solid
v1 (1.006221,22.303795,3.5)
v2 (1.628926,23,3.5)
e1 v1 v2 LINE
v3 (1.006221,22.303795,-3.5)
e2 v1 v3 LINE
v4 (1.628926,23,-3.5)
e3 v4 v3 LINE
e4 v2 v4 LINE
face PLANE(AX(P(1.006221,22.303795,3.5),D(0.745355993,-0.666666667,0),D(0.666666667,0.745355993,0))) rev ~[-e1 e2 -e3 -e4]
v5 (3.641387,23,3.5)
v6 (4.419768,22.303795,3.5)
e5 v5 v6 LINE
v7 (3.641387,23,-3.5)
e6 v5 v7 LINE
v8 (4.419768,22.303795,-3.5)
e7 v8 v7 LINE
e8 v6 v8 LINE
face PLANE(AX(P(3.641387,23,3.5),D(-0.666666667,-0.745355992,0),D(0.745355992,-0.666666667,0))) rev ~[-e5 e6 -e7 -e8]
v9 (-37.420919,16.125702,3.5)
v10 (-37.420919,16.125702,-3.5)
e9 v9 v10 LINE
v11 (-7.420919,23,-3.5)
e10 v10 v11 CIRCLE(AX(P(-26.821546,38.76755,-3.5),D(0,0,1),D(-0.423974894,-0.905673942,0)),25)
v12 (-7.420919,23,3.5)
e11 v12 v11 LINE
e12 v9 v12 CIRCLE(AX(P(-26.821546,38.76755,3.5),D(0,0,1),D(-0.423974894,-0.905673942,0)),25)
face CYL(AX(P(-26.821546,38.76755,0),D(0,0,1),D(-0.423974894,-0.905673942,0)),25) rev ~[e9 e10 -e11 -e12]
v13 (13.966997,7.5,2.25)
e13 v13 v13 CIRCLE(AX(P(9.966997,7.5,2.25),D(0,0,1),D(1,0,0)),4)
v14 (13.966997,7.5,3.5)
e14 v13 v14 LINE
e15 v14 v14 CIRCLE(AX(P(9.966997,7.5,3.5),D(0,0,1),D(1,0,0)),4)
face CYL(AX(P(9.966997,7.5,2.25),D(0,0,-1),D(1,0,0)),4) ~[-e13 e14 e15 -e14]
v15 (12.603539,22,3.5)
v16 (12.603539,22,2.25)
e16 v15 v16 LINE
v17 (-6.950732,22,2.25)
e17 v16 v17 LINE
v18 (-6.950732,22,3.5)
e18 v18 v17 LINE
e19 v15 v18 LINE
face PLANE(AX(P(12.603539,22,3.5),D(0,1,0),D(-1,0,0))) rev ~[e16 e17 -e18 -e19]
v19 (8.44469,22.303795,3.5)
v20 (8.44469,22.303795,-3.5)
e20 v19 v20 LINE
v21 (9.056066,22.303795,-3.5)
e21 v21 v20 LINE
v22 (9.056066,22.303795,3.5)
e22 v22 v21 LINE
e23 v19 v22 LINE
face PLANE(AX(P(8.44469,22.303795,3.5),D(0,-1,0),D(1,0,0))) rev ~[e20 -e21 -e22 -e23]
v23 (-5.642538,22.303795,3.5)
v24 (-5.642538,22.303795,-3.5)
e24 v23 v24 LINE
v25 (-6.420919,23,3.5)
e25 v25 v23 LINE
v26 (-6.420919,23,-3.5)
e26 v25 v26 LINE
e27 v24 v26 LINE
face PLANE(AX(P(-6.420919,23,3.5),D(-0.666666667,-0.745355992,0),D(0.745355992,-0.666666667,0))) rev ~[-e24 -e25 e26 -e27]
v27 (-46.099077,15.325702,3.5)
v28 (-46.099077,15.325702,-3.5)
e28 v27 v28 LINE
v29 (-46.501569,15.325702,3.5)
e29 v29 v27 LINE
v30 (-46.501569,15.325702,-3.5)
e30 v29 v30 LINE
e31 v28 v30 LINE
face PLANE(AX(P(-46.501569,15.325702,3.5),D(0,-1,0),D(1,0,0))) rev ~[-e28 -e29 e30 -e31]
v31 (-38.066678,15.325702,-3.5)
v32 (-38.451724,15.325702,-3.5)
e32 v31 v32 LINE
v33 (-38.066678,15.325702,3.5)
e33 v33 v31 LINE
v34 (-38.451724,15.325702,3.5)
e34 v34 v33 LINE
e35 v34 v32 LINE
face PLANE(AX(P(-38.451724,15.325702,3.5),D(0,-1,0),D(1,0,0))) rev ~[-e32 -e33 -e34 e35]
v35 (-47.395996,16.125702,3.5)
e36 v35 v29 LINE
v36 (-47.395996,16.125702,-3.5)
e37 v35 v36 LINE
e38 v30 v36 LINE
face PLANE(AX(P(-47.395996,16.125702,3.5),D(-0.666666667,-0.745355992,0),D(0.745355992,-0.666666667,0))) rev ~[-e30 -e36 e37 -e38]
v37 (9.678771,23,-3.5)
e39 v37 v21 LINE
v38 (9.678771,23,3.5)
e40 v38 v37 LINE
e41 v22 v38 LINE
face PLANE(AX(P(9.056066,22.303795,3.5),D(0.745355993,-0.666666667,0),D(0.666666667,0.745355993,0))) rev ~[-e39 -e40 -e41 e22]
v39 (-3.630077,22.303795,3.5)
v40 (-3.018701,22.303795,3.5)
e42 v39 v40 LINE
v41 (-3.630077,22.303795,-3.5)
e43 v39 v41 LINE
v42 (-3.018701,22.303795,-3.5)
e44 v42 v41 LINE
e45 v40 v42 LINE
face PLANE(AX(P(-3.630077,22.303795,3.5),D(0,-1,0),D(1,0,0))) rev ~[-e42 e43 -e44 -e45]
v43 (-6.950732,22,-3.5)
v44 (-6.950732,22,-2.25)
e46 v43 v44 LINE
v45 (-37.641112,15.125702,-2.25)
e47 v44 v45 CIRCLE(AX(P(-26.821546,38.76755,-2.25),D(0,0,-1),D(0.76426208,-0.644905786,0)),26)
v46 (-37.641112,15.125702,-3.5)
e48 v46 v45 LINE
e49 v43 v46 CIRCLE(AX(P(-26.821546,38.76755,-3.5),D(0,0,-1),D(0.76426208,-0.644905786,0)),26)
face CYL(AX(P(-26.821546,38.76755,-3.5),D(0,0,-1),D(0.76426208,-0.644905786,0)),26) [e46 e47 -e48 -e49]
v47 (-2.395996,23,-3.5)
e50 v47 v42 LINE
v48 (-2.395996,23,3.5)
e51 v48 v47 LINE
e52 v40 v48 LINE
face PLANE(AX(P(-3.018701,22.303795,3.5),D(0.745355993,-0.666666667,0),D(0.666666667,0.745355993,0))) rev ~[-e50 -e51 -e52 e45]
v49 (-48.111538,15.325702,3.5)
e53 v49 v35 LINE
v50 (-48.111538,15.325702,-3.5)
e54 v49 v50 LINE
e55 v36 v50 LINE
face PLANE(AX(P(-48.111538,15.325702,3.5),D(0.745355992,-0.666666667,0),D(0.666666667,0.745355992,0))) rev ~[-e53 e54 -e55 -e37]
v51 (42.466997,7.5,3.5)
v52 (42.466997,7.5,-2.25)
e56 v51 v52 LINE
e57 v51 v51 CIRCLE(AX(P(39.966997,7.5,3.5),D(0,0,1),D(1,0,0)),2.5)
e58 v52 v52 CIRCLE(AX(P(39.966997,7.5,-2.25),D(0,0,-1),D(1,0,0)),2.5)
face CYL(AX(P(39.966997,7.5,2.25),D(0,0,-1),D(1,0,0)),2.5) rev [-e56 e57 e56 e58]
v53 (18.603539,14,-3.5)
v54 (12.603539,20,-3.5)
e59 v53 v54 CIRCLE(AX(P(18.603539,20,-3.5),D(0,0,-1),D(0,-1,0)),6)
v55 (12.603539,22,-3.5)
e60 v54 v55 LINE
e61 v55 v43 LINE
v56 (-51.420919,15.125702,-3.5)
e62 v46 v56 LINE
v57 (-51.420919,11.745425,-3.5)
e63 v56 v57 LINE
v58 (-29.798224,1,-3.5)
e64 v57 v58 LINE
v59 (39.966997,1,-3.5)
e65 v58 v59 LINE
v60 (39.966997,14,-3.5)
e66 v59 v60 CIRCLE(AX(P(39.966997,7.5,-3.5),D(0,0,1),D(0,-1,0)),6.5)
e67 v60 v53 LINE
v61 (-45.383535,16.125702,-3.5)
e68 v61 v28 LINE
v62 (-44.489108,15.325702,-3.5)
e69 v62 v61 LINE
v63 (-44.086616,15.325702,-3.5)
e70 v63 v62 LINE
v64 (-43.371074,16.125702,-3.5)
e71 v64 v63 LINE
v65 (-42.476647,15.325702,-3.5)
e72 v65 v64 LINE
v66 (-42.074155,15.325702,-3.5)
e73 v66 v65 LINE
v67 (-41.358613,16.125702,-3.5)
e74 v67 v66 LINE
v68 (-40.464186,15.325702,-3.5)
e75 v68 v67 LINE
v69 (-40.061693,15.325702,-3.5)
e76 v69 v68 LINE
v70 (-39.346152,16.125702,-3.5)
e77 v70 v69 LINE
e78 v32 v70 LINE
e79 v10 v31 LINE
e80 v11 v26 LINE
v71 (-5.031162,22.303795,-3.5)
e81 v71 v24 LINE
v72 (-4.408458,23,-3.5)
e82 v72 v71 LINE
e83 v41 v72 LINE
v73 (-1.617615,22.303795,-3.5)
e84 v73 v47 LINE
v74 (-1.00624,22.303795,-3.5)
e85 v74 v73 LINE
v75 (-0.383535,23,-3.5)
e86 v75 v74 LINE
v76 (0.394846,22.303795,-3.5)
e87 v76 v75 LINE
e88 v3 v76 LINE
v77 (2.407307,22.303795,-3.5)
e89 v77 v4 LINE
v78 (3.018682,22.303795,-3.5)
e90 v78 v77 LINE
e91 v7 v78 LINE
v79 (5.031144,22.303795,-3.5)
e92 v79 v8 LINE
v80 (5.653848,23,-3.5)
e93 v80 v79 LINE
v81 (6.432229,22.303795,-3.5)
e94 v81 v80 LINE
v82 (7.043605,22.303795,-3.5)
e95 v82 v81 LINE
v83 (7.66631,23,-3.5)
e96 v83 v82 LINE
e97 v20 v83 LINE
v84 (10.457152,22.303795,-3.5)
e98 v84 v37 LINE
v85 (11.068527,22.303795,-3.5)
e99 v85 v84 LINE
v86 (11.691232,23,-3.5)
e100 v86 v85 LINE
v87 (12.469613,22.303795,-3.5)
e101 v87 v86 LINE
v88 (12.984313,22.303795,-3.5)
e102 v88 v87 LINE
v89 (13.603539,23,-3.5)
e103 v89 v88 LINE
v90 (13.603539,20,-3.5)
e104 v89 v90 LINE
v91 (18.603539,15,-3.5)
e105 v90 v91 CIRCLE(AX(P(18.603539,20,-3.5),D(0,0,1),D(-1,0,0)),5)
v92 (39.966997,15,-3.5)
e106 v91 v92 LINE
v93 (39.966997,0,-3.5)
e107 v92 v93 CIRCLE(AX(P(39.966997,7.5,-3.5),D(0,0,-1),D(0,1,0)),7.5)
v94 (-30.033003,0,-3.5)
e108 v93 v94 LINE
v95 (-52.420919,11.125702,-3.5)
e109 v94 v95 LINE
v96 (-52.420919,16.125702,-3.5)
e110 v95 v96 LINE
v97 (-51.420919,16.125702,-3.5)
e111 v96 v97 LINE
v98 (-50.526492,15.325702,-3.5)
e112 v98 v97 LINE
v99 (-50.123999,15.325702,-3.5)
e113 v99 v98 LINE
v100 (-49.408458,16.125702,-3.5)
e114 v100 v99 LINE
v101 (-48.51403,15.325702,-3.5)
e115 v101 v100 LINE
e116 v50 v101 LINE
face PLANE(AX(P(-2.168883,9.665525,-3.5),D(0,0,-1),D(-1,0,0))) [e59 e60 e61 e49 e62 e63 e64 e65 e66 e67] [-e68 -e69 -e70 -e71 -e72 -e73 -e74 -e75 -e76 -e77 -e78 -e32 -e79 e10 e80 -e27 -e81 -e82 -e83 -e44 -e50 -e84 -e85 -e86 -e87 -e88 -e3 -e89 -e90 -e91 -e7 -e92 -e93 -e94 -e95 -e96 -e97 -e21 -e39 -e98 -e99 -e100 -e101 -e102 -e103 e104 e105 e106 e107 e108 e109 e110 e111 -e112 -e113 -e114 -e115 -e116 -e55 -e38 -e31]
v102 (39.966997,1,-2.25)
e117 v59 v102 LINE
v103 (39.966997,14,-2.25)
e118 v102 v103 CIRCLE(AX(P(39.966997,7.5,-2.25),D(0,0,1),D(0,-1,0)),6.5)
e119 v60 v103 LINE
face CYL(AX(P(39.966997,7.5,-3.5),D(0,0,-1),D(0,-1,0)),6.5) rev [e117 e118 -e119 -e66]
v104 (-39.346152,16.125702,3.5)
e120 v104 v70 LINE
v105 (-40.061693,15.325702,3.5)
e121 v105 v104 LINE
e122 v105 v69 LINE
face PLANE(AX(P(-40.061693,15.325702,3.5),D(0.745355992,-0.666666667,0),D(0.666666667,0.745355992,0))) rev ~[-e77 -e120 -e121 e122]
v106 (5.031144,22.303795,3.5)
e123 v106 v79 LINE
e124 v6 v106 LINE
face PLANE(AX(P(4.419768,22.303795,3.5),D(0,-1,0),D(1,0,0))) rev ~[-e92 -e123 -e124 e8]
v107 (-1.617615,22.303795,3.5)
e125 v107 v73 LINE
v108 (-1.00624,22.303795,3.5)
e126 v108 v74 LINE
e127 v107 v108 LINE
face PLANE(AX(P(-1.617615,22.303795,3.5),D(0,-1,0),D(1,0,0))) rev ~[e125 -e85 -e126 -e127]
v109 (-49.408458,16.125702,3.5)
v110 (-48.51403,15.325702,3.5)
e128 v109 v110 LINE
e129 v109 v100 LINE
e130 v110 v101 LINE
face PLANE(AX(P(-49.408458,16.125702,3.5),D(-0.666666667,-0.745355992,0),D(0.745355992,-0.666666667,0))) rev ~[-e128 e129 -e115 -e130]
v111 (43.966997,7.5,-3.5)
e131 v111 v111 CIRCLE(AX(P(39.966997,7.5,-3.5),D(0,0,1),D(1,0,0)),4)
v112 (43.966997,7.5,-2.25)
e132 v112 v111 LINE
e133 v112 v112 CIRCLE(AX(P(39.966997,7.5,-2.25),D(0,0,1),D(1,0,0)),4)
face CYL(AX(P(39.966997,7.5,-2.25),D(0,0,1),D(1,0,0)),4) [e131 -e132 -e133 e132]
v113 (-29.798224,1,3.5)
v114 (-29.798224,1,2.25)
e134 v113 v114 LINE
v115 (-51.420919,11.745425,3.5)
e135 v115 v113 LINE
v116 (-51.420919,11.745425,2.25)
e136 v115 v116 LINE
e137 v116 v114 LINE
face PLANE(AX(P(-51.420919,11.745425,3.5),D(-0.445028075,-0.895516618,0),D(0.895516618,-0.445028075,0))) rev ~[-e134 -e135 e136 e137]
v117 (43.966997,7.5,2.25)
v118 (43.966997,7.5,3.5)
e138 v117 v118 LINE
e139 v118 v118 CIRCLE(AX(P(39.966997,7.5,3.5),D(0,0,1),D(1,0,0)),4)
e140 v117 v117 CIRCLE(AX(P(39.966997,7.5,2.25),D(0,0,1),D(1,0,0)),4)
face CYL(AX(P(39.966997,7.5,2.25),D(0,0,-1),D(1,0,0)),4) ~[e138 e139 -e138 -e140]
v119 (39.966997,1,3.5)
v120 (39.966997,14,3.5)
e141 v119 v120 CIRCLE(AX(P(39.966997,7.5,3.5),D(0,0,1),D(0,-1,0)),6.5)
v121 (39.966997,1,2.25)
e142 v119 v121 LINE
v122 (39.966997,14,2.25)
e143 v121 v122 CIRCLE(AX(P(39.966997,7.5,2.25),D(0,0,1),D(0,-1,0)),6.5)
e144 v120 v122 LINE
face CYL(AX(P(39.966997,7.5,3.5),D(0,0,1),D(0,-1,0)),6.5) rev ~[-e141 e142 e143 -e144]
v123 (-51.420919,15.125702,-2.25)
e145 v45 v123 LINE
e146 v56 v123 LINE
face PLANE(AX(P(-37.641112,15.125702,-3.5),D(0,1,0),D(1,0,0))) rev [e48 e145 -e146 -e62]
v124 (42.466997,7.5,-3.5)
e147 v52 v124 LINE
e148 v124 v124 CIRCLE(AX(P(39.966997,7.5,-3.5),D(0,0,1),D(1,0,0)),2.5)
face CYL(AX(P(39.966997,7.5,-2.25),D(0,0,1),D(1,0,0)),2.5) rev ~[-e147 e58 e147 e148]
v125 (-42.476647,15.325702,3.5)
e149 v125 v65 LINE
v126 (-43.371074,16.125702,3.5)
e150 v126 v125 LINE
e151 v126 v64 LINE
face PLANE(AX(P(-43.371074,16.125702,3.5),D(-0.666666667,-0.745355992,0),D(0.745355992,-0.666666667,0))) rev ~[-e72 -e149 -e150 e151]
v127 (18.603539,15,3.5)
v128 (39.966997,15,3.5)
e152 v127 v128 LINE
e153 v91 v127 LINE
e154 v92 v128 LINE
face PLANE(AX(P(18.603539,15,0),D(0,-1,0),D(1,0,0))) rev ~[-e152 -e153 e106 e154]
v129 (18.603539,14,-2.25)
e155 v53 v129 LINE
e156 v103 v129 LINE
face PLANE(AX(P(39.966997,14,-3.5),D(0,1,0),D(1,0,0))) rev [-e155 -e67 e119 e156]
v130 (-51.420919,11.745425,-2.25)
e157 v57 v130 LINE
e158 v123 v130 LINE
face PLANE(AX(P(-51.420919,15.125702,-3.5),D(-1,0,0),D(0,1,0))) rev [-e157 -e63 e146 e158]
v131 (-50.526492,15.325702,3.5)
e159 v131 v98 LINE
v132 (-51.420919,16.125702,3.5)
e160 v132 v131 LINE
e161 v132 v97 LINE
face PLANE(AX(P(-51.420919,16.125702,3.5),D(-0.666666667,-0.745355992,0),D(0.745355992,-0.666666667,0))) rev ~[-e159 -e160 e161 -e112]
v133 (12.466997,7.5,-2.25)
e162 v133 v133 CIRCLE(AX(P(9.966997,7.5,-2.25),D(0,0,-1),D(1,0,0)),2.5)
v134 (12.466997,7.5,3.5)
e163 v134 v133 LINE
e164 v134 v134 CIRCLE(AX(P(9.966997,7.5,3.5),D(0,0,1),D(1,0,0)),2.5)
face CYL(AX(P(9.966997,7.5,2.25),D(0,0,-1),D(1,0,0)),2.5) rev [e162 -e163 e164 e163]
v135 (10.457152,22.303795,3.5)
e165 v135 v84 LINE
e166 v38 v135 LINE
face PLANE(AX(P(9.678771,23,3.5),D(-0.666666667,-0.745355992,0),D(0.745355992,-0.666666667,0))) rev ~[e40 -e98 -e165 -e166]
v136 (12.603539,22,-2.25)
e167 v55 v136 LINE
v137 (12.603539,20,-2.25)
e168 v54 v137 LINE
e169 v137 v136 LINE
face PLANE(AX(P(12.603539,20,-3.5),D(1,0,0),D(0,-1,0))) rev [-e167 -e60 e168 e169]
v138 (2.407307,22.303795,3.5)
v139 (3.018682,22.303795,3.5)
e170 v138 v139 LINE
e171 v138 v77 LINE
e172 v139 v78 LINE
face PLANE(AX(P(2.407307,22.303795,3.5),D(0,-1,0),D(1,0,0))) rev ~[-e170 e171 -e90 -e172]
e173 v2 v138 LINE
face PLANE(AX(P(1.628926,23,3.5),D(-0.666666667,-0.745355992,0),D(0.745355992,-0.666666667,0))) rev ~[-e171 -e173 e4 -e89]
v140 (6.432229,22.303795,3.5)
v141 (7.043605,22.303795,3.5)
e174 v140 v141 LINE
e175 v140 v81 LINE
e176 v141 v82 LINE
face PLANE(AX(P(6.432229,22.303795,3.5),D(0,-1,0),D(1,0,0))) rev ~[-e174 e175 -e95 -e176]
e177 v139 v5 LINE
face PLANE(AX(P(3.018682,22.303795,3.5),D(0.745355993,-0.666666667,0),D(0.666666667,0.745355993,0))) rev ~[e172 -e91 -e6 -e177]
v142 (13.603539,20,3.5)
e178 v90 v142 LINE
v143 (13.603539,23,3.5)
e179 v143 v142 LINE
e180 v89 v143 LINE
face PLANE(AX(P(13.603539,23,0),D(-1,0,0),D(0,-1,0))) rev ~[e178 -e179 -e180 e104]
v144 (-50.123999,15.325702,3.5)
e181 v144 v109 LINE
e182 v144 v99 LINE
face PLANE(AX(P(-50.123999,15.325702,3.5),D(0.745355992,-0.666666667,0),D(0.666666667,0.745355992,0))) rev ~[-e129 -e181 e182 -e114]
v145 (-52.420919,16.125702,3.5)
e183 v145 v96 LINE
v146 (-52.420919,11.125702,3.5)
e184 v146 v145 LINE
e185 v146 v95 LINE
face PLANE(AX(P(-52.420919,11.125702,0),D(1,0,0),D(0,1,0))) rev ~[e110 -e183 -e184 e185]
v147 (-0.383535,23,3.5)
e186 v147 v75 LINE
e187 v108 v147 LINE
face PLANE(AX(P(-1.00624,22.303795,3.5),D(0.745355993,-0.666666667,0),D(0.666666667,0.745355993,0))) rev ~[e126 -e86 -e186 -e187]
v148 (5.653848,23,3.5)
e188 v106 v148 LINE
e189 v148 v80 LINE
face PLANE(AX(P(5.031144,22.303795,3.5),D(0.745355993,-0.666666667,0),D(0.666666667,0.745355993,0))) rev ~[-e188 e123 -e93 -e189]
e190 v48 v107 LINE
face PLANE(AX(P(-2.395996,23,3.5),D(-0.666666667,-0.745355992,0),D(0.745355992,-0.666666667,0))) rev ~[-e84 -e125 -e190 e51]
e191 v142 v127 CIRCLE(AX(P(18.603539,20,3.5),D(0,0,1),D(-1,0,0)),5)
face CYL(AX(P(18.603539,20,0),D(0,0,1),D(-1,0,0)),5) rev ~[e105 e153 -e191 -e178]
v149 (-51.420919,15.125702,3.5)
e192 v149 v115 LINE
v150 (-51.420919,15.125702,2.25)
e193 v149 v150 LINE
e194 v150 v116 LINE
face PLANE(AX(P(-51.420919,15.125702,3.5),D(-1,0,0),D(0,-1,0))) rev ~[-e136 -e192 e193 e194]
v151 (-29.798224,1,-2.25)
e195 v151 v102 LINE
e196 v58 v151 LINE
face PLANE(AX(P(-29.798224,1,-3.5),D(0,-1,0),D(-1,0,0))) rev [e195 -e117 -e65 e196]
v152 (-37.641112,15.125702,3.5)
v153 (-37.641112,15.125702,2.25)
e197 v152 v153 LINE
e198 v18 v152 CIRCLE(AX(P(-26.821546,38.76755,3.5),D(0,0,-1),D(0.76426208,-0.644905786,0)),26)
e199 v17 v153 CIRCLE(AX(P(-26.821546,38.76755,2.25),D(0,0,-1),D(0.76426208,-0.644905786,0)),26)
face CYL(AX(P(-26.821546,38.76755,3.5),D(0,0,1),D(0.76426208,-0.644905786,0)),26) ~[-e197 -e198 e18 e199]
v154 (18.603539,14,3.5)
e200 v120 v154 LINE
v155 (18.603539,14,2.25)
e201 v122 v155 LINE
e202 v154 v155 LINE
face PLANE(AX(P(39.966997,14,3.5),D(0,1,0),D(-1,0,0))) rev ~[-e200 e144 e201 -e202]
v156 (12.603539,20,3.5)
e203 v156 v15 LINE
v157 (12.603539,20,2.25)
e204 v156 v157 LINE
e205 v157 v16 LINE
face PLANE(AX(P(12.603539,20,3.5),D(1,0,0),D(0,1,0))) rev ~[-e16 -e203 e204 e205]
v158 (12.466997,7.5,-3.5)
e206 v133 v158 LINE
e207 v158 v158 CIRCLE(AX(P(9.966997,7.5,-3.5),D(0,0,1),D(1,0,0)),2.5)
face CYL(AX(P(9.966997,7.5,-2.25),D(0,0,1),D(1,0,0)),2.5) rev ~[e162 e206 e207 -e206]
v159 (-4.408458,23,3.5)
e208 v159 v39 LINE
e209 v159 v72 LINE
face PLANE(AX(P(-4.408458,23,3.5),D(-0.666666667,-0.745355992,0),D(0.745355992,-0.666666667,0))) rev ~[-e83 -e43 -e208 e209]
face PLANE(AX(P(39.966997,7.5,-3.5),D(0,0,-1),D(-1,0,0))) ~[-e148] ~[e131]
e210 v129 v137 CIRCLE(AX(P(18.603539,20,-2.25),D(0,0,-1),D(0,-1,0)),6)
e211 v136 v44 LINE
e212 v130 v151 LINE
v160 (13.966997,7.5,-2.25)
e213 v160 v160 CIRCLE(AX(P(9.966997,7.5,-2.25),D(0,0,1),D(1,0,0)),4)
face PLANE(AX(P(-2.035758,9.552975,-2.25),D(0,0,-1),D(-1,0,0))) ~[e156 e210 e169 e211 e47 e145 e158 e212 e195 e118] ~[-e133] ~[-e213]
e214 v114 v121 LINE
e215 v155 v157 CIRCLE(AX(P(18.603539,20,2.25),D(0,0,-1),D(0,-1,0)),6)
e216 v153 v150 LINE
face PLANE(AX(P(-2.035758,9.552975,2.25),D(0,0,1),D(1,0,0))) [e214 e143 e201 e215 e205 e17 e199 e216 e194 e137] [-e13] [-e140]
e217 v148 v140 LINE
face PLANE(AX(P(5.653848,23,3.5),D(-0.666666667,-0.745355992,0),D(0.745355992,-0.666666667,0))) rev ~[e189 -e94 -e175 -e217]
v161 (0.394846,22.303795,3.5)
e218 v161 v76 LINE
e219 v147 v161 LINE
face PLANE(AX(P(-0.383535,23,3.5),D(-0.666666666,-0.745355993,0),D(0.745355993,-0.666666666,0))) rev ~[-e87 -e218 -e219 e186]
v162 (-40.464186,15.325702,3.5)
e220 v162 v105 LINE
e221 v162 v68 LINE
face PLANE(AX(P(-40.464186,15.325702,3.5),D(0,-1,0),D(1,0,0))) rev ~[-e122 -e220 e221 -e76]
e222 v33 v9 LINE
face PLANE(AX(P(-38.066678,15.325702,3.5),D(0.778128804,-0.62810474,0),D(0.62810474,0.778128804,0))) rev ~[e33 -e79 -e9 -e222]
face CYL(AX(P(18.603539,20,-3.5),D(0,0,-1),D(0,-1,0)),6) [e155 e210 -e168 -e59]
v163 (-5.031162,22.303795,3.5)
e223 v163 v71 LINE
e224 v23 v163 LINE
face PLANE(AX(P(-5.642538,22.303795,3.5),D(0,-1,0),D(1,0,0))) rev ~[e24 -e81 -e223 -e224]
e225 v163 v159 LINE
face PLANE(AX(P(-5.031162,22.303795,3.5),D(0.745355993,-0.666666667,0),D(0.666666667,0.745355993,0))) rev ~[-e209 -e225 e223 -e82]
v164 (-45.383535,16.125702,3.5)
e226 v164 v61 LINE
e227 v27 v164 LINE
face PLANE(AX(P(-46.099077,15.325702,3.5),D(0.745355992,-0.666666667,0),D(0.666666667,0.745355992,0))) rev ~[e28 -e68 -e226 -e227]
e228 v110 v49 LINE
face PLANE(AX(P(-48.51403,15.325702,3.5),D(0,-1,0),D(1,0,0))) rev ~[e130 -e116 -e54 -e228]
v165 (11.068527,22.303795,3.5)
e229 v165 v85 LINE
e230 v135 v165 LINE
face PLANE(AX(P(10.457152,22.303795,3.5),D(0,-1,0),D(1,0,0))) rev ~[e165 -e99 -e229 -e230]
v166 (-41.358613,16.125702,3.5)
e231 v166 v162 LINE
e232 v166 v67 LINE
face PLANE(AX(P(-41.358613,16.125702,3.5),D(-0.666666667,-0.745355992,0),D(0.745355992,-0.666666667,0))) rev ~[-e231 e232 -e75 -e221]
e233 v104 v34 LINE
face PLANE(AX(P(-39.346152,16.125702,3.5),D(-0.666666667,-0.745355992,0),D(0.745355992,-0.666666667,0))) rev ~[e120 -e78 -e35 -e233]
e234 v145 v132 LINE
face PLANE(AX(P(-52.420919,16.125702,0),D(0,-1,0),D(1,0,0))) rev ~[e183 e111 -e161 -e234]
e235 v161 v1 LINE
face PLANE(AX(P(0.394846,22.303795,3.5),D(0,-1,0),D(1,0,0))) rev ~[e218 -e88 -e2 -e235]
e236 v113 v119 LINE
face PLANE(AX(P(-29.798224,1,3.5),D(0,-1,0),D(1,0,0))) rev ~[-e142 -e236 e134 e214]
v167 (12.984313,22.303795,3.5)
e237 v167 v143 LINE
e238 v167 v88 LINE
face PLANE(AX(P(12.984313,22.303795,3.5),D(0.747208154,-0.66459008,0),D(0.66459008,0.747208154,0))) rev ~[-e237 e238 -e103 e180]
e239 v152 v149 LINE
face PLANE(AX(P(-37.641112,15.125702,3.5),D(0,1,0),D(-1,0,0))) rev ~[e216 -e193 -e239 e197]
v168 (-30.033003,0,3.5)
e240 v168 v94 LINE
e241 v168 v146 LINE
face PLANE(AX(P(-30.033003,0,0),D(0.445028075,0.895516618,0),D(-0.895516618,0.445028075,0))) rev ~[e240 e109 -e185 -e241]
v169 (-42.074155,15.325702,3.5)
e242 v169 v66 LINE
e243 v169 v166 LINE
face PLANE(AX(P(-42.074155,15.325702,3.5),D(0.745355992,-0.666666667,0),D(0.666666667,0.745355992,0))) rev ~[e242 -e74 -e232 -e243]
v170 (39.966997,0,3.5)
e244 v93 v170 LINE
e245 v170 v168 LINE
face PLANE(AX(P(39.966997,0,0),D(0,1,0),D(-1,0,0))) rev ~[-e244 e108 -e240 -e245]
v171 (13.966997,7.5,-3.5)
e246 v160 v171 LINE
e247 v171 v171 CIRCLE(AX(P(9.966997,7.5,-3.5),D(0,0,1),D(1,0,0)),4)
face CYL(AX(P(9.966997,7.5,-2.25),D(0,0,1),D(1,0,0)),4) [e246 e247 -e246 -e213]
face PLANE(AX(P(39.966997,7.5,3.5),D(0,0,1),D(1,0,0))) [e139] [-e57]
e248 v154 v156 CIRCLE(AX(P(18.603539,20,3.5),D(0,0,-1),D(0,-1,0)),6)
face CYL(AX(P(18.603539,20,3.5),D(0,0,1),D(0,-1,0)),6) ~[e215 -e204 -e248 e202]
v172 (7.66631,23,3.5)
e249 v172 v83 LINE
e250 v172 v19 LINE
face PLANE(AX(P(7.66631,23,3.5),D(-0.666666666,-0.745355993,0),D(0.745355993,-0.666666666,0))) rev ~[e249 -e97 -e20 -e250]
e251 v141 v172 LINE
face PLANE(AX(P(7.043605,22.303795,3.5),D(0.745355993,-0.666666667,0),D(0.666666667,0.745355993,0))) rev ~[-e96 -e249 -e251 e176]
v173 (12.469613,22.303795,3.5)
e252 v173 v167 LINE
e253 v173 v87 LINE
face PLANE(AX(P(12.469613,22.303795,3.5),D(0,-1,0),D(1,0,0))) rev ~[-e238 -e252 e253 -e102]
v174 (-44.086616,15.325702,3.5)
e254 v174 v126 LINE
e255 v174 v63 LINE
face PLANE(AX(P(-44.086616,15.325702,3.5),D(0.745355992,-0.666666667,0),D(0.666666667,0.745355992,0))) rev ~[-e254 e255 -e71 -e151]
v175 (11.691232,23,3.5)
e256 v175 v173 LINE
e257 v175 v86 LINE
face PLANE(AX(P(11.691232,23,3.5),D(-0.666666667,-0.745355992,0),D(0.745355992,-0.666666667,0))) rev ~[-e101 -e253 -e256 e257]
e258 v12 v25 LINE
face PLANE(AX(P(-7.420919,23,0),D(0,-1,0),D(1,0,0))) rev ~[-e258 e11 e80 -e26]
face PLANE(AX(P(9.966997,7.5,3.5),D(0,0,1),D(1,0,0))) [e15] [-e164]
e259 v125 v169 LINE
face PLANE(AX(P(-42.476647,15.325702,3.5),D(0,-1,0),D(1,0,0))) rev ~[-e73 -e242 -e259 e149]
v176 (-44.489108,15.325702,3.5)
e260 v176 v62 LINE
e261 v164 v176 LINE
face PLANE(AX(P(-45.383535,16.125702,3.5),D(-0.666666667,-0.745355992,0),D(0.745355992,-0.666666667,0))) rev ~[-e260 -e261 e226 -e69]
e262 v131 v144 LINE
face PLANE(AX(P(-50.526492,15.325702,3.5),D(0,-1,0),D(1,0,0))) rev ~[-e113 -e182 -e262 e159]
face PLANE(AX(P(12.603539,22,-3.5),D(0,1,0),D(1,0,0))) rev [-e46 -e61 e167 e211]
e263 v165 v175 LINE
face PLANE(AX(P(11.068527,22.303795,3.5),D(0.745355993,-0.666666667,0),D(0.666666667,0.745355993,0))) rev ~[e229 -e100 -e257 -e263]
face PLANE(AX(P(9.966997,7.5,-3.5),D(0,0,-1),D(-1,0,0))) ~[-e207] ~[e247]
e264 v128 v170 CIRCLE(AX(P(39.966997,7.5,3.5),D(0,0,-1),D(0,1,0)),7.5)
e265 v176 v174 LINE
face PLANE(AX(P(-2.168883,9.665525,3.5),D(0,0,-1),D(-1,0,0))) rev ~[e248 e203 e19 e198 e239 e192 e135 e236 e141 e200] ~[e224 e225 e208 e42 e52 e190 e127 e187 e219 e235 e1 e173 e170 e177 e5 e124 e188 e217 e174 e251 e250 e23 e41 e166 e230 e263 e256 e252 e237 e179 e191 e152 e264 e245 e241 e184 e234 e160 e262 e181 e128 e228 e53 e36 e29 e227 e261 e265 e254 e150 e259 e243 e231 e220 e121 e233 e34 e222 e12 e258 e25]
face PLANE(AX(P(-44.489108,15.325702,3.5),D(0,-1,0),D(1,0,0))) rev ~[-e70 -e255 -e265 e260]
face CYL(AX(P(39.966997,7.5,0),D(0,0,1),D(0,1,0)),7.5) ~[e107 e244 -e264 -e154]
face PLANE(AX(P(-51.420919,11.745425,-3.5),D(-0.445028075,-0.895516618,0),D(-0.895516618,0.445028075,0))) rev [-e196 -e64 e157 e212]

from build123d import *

# Parameters (mm, degrees)
SKETCH1_R           = 2.5
BOSS_EXTRUDE1_DEPTH = 3.5
CUT_EXTRUDE1_DEPTH  = 1.25
SKETCH3_R           = 4
SKETCH3_R_2         = 2.5
BOSS_EXTRUDE4_DEPTH = 1.25
CUT_EXTRUDE2_DEPTH  = 58.671073524
CUT_EXTRUDE3_DEPTH  = 58.671073524


with BuildPart() as part:
    # Sketch1 → Boss-Extrude1 (new, symmetric)
    with BuildSketch(Plane.XY):
        with BuildLine():
            Line((39.9669967, 0), (-30.0330033, 0))
            Line((-30.0330033, 0), (-52.420918739, 11.12570188))
            Line((-52.420918739, 11.12570188), (-52.420918739, 16.12570188))
            Line((-52.420918739, 16.12570188), (-37.420918739, 16.12570188))
            ThreePointArc((-37.420918739, 16.12570188), (-21.237684162, 14.399118341), (-7.420918739, 23))
            Line((-7.420918739, 23), (13.603539052, 23))
            Line((13.603539052, 23), (13.603539052, 20))
            ThreePointArc((13.603539052, 20), (15.068005146, 16.464466094), (18.603539052, 15))
            Line((18.603539052, 15), (39.9669967, 15))
            ThreePointArc((39.9669967, 15), (47.4669967, 7.5), (39.9669967, 0))
        make_face()
        with Locations((39.9669967, 7.5)):
            Circle(SKETCH1_R, mode=Mode.SUBTRACT)
        with Locations((9.9669967, 7.5)):
            Circle(SKETCH1_R, mode=Mode.SUBTRACT)
    extrude(amount=BOSS_EXTRUDE1_DEPTH, both=True)

    # Sketch2 → Cut-Extrude1 (cut)
    with BuildSketch(Plane.XY.offset(3.5)):
        with BuildLine():
            Line((39.9669967, 14), (18.603539052, 14))
            ThreePointArc((18.603539052, 14), (14.360898365, 15.757359313), (12.603539052, 20))
            Line((12.603539052, 20), (12.603539052, 22))
            Line((12.603539052, 22), (-6.950732305, 22))
            ThreePointArc((-6.950732305, 22), (-21.138653729, 13.396213633), (-37.641111866, 15.12570188))
            Line((-37.641111866, 15.12570188), (-51.420918739, 15.12570188))
            Line((-51.420918739, 15.12570188), (-51.420918739, 11.745424522))
            Line((-51.420918739, 11.745424522), (-29.798223995, 1))
            Line((-29.798223995, 1), (39.9669967, 1))
            ThreePointArc((39.9669967, 1), (46.4669967, 7.5), (39.9669967, 14))
        make_face()
    cut_extrude1 = extrude(amount=-CUT_EXTRUDE1_DEPTH, mode=Mode.SUBTRACT)

    # Sketch3 → Boss-Extrude4 (add)
    # profile 1 of 2: a face of its own
    with BuildSketch(Plane.XY.offset(2.25)):
        with Locations((9.9669967, 7.5)):
            Circle(SKETCH3_R)
        with Locations((9.9669967, 7.5)):
            Circle(SKETCH3_R_2, mode=Mode.SUBTRACT)
    # profile 2 of 2: a face of its own
    with BuildSketch(Plane.XY.offset(2.25)):
        with Locations((39.9669967, 7.5)):
            Circle(SKETCH3_R)
        with Locations((39.9669967, 7.5)):
            Circle(SKETCH3_R_2, mode=Mode.SUBTRACT)
    boss_extrude4 = extrude(amount=BOSS_EXTRUDE4_DEPTH)

    # Mirror1: Cut-Extrude1, Boss-Extrude4 across plane
    add(cut_extrude1.mirror(Plane.XY), mode=Mode.SUBTRACT)
    add(boss_extrude4.mirror(Plane.XY))

    # Sketch4 → Cut-Extrude2 (cut, through all)
    with BuildSketch(Plane.XY.offset(3.5)):
        Polygon((-43.37107402, 16.12570188), (-45.3835352, 16.12570188), (-44.489108009, 15.32570188), (-44.086615773, 15.32570188), align=None)
        Polygon((-41.35861284, 16.12570188), (-43.37107402, 16.12570188), (-42.476646829, 15.32570188), (-42.074154593, 15.32570188), align=None)
        Polygon((-39.34615166, 16.12570188), (-41.35861284, 16.12570188), (-40.464185649, 15.32570188), (-40.061693413, 15.32570188), align=None)
        Polygon((-37.420918739, 16.12570188), (-39.34615166, 16.12570188), (-38.451724469, 15.32570188), (-38.066677885, 15.32570188), align=None)
        Polygon((-45.3835352, 16.12570188), (-47.395996379, 16.12570188), (-46.501569188, 15.32570188), (-46.099076953, 15.32570188), align=None)
        Polygon((-47.395996379, 16.12570188), (-49.408457559, 16.12570188), (-48.514030368, 15.32570188), (-48.111538132, 15.32570188), align=None)
        Polygon((-49.408457559, 16.12570188), (-51.420918739, 16.12570188), (-50.526491548, 15.32570188), (-50.123999312, 15.32570188), align=None)
    extrude(amount=-CUT_EXTRUDE2_DEPTH, mode=Mode.SUBTRACT)

    # Sketch5 → Cut-Extrude3 (cut, through all)
    with BuildSketch(Plane.XY.offset(3.5)):
        Polygon((-4.408457559, 23), (-6.420918739, 23), (-5.642537797, 22.30379492), (-5.031162313, 22.30379492), align=None)
        Polygon((-2.395996379, 23), (-4.408457559, 23), (-3.630076617, 22.30379492), (-3.018701133, 22.30379492), align=None)
        Polygon((-0.3835352, 23), (-2.395996379, 23), (-1.617615437, 22.30379492), (-1.006239954, 22.30379492), align=None)
        Polygon((1.62892598, 23), (-0.3835352, 23), (0.394845743, 22.30379492), (1.006221226, 22.30379492), align=None)
        Polygon((3.64138716, 23), (1.62892598, 23), (2.407306922, 22.30379492), (3.018682406, 22.30379492), align=None)
        Polygon((5.65384834, 23), (3.64138716, 23), (4.419768102, 22.30379492), (5.031143586, 22.30379492), align=None)
        Polygon((7.666309519, 23), (5.65384834, 23), (6.432229282, 22.30379492), (7.043604765, 22.30379492), align=None)
        Polygon((9.678770699, 23), (7.666309519, 23), (8.444690462, 22.30379492), (9.056065945, 22.30379492), align=None)
        Polygon((11.691231879, 23), (9.678770699, 23), (10.457151641, 22.30379492), (11.068527125, 22.30379492), align=None)
        Polygon((13.603539052, 23), (11.691231879, 23), (12.469612821, 22.30379492), (12.984312686, 22.30379492), align=None)
    extrude(amount=-CUT_EXTRUDE3_DEPTH, mode=Mode.SUBTRACT)


solid = part.part
